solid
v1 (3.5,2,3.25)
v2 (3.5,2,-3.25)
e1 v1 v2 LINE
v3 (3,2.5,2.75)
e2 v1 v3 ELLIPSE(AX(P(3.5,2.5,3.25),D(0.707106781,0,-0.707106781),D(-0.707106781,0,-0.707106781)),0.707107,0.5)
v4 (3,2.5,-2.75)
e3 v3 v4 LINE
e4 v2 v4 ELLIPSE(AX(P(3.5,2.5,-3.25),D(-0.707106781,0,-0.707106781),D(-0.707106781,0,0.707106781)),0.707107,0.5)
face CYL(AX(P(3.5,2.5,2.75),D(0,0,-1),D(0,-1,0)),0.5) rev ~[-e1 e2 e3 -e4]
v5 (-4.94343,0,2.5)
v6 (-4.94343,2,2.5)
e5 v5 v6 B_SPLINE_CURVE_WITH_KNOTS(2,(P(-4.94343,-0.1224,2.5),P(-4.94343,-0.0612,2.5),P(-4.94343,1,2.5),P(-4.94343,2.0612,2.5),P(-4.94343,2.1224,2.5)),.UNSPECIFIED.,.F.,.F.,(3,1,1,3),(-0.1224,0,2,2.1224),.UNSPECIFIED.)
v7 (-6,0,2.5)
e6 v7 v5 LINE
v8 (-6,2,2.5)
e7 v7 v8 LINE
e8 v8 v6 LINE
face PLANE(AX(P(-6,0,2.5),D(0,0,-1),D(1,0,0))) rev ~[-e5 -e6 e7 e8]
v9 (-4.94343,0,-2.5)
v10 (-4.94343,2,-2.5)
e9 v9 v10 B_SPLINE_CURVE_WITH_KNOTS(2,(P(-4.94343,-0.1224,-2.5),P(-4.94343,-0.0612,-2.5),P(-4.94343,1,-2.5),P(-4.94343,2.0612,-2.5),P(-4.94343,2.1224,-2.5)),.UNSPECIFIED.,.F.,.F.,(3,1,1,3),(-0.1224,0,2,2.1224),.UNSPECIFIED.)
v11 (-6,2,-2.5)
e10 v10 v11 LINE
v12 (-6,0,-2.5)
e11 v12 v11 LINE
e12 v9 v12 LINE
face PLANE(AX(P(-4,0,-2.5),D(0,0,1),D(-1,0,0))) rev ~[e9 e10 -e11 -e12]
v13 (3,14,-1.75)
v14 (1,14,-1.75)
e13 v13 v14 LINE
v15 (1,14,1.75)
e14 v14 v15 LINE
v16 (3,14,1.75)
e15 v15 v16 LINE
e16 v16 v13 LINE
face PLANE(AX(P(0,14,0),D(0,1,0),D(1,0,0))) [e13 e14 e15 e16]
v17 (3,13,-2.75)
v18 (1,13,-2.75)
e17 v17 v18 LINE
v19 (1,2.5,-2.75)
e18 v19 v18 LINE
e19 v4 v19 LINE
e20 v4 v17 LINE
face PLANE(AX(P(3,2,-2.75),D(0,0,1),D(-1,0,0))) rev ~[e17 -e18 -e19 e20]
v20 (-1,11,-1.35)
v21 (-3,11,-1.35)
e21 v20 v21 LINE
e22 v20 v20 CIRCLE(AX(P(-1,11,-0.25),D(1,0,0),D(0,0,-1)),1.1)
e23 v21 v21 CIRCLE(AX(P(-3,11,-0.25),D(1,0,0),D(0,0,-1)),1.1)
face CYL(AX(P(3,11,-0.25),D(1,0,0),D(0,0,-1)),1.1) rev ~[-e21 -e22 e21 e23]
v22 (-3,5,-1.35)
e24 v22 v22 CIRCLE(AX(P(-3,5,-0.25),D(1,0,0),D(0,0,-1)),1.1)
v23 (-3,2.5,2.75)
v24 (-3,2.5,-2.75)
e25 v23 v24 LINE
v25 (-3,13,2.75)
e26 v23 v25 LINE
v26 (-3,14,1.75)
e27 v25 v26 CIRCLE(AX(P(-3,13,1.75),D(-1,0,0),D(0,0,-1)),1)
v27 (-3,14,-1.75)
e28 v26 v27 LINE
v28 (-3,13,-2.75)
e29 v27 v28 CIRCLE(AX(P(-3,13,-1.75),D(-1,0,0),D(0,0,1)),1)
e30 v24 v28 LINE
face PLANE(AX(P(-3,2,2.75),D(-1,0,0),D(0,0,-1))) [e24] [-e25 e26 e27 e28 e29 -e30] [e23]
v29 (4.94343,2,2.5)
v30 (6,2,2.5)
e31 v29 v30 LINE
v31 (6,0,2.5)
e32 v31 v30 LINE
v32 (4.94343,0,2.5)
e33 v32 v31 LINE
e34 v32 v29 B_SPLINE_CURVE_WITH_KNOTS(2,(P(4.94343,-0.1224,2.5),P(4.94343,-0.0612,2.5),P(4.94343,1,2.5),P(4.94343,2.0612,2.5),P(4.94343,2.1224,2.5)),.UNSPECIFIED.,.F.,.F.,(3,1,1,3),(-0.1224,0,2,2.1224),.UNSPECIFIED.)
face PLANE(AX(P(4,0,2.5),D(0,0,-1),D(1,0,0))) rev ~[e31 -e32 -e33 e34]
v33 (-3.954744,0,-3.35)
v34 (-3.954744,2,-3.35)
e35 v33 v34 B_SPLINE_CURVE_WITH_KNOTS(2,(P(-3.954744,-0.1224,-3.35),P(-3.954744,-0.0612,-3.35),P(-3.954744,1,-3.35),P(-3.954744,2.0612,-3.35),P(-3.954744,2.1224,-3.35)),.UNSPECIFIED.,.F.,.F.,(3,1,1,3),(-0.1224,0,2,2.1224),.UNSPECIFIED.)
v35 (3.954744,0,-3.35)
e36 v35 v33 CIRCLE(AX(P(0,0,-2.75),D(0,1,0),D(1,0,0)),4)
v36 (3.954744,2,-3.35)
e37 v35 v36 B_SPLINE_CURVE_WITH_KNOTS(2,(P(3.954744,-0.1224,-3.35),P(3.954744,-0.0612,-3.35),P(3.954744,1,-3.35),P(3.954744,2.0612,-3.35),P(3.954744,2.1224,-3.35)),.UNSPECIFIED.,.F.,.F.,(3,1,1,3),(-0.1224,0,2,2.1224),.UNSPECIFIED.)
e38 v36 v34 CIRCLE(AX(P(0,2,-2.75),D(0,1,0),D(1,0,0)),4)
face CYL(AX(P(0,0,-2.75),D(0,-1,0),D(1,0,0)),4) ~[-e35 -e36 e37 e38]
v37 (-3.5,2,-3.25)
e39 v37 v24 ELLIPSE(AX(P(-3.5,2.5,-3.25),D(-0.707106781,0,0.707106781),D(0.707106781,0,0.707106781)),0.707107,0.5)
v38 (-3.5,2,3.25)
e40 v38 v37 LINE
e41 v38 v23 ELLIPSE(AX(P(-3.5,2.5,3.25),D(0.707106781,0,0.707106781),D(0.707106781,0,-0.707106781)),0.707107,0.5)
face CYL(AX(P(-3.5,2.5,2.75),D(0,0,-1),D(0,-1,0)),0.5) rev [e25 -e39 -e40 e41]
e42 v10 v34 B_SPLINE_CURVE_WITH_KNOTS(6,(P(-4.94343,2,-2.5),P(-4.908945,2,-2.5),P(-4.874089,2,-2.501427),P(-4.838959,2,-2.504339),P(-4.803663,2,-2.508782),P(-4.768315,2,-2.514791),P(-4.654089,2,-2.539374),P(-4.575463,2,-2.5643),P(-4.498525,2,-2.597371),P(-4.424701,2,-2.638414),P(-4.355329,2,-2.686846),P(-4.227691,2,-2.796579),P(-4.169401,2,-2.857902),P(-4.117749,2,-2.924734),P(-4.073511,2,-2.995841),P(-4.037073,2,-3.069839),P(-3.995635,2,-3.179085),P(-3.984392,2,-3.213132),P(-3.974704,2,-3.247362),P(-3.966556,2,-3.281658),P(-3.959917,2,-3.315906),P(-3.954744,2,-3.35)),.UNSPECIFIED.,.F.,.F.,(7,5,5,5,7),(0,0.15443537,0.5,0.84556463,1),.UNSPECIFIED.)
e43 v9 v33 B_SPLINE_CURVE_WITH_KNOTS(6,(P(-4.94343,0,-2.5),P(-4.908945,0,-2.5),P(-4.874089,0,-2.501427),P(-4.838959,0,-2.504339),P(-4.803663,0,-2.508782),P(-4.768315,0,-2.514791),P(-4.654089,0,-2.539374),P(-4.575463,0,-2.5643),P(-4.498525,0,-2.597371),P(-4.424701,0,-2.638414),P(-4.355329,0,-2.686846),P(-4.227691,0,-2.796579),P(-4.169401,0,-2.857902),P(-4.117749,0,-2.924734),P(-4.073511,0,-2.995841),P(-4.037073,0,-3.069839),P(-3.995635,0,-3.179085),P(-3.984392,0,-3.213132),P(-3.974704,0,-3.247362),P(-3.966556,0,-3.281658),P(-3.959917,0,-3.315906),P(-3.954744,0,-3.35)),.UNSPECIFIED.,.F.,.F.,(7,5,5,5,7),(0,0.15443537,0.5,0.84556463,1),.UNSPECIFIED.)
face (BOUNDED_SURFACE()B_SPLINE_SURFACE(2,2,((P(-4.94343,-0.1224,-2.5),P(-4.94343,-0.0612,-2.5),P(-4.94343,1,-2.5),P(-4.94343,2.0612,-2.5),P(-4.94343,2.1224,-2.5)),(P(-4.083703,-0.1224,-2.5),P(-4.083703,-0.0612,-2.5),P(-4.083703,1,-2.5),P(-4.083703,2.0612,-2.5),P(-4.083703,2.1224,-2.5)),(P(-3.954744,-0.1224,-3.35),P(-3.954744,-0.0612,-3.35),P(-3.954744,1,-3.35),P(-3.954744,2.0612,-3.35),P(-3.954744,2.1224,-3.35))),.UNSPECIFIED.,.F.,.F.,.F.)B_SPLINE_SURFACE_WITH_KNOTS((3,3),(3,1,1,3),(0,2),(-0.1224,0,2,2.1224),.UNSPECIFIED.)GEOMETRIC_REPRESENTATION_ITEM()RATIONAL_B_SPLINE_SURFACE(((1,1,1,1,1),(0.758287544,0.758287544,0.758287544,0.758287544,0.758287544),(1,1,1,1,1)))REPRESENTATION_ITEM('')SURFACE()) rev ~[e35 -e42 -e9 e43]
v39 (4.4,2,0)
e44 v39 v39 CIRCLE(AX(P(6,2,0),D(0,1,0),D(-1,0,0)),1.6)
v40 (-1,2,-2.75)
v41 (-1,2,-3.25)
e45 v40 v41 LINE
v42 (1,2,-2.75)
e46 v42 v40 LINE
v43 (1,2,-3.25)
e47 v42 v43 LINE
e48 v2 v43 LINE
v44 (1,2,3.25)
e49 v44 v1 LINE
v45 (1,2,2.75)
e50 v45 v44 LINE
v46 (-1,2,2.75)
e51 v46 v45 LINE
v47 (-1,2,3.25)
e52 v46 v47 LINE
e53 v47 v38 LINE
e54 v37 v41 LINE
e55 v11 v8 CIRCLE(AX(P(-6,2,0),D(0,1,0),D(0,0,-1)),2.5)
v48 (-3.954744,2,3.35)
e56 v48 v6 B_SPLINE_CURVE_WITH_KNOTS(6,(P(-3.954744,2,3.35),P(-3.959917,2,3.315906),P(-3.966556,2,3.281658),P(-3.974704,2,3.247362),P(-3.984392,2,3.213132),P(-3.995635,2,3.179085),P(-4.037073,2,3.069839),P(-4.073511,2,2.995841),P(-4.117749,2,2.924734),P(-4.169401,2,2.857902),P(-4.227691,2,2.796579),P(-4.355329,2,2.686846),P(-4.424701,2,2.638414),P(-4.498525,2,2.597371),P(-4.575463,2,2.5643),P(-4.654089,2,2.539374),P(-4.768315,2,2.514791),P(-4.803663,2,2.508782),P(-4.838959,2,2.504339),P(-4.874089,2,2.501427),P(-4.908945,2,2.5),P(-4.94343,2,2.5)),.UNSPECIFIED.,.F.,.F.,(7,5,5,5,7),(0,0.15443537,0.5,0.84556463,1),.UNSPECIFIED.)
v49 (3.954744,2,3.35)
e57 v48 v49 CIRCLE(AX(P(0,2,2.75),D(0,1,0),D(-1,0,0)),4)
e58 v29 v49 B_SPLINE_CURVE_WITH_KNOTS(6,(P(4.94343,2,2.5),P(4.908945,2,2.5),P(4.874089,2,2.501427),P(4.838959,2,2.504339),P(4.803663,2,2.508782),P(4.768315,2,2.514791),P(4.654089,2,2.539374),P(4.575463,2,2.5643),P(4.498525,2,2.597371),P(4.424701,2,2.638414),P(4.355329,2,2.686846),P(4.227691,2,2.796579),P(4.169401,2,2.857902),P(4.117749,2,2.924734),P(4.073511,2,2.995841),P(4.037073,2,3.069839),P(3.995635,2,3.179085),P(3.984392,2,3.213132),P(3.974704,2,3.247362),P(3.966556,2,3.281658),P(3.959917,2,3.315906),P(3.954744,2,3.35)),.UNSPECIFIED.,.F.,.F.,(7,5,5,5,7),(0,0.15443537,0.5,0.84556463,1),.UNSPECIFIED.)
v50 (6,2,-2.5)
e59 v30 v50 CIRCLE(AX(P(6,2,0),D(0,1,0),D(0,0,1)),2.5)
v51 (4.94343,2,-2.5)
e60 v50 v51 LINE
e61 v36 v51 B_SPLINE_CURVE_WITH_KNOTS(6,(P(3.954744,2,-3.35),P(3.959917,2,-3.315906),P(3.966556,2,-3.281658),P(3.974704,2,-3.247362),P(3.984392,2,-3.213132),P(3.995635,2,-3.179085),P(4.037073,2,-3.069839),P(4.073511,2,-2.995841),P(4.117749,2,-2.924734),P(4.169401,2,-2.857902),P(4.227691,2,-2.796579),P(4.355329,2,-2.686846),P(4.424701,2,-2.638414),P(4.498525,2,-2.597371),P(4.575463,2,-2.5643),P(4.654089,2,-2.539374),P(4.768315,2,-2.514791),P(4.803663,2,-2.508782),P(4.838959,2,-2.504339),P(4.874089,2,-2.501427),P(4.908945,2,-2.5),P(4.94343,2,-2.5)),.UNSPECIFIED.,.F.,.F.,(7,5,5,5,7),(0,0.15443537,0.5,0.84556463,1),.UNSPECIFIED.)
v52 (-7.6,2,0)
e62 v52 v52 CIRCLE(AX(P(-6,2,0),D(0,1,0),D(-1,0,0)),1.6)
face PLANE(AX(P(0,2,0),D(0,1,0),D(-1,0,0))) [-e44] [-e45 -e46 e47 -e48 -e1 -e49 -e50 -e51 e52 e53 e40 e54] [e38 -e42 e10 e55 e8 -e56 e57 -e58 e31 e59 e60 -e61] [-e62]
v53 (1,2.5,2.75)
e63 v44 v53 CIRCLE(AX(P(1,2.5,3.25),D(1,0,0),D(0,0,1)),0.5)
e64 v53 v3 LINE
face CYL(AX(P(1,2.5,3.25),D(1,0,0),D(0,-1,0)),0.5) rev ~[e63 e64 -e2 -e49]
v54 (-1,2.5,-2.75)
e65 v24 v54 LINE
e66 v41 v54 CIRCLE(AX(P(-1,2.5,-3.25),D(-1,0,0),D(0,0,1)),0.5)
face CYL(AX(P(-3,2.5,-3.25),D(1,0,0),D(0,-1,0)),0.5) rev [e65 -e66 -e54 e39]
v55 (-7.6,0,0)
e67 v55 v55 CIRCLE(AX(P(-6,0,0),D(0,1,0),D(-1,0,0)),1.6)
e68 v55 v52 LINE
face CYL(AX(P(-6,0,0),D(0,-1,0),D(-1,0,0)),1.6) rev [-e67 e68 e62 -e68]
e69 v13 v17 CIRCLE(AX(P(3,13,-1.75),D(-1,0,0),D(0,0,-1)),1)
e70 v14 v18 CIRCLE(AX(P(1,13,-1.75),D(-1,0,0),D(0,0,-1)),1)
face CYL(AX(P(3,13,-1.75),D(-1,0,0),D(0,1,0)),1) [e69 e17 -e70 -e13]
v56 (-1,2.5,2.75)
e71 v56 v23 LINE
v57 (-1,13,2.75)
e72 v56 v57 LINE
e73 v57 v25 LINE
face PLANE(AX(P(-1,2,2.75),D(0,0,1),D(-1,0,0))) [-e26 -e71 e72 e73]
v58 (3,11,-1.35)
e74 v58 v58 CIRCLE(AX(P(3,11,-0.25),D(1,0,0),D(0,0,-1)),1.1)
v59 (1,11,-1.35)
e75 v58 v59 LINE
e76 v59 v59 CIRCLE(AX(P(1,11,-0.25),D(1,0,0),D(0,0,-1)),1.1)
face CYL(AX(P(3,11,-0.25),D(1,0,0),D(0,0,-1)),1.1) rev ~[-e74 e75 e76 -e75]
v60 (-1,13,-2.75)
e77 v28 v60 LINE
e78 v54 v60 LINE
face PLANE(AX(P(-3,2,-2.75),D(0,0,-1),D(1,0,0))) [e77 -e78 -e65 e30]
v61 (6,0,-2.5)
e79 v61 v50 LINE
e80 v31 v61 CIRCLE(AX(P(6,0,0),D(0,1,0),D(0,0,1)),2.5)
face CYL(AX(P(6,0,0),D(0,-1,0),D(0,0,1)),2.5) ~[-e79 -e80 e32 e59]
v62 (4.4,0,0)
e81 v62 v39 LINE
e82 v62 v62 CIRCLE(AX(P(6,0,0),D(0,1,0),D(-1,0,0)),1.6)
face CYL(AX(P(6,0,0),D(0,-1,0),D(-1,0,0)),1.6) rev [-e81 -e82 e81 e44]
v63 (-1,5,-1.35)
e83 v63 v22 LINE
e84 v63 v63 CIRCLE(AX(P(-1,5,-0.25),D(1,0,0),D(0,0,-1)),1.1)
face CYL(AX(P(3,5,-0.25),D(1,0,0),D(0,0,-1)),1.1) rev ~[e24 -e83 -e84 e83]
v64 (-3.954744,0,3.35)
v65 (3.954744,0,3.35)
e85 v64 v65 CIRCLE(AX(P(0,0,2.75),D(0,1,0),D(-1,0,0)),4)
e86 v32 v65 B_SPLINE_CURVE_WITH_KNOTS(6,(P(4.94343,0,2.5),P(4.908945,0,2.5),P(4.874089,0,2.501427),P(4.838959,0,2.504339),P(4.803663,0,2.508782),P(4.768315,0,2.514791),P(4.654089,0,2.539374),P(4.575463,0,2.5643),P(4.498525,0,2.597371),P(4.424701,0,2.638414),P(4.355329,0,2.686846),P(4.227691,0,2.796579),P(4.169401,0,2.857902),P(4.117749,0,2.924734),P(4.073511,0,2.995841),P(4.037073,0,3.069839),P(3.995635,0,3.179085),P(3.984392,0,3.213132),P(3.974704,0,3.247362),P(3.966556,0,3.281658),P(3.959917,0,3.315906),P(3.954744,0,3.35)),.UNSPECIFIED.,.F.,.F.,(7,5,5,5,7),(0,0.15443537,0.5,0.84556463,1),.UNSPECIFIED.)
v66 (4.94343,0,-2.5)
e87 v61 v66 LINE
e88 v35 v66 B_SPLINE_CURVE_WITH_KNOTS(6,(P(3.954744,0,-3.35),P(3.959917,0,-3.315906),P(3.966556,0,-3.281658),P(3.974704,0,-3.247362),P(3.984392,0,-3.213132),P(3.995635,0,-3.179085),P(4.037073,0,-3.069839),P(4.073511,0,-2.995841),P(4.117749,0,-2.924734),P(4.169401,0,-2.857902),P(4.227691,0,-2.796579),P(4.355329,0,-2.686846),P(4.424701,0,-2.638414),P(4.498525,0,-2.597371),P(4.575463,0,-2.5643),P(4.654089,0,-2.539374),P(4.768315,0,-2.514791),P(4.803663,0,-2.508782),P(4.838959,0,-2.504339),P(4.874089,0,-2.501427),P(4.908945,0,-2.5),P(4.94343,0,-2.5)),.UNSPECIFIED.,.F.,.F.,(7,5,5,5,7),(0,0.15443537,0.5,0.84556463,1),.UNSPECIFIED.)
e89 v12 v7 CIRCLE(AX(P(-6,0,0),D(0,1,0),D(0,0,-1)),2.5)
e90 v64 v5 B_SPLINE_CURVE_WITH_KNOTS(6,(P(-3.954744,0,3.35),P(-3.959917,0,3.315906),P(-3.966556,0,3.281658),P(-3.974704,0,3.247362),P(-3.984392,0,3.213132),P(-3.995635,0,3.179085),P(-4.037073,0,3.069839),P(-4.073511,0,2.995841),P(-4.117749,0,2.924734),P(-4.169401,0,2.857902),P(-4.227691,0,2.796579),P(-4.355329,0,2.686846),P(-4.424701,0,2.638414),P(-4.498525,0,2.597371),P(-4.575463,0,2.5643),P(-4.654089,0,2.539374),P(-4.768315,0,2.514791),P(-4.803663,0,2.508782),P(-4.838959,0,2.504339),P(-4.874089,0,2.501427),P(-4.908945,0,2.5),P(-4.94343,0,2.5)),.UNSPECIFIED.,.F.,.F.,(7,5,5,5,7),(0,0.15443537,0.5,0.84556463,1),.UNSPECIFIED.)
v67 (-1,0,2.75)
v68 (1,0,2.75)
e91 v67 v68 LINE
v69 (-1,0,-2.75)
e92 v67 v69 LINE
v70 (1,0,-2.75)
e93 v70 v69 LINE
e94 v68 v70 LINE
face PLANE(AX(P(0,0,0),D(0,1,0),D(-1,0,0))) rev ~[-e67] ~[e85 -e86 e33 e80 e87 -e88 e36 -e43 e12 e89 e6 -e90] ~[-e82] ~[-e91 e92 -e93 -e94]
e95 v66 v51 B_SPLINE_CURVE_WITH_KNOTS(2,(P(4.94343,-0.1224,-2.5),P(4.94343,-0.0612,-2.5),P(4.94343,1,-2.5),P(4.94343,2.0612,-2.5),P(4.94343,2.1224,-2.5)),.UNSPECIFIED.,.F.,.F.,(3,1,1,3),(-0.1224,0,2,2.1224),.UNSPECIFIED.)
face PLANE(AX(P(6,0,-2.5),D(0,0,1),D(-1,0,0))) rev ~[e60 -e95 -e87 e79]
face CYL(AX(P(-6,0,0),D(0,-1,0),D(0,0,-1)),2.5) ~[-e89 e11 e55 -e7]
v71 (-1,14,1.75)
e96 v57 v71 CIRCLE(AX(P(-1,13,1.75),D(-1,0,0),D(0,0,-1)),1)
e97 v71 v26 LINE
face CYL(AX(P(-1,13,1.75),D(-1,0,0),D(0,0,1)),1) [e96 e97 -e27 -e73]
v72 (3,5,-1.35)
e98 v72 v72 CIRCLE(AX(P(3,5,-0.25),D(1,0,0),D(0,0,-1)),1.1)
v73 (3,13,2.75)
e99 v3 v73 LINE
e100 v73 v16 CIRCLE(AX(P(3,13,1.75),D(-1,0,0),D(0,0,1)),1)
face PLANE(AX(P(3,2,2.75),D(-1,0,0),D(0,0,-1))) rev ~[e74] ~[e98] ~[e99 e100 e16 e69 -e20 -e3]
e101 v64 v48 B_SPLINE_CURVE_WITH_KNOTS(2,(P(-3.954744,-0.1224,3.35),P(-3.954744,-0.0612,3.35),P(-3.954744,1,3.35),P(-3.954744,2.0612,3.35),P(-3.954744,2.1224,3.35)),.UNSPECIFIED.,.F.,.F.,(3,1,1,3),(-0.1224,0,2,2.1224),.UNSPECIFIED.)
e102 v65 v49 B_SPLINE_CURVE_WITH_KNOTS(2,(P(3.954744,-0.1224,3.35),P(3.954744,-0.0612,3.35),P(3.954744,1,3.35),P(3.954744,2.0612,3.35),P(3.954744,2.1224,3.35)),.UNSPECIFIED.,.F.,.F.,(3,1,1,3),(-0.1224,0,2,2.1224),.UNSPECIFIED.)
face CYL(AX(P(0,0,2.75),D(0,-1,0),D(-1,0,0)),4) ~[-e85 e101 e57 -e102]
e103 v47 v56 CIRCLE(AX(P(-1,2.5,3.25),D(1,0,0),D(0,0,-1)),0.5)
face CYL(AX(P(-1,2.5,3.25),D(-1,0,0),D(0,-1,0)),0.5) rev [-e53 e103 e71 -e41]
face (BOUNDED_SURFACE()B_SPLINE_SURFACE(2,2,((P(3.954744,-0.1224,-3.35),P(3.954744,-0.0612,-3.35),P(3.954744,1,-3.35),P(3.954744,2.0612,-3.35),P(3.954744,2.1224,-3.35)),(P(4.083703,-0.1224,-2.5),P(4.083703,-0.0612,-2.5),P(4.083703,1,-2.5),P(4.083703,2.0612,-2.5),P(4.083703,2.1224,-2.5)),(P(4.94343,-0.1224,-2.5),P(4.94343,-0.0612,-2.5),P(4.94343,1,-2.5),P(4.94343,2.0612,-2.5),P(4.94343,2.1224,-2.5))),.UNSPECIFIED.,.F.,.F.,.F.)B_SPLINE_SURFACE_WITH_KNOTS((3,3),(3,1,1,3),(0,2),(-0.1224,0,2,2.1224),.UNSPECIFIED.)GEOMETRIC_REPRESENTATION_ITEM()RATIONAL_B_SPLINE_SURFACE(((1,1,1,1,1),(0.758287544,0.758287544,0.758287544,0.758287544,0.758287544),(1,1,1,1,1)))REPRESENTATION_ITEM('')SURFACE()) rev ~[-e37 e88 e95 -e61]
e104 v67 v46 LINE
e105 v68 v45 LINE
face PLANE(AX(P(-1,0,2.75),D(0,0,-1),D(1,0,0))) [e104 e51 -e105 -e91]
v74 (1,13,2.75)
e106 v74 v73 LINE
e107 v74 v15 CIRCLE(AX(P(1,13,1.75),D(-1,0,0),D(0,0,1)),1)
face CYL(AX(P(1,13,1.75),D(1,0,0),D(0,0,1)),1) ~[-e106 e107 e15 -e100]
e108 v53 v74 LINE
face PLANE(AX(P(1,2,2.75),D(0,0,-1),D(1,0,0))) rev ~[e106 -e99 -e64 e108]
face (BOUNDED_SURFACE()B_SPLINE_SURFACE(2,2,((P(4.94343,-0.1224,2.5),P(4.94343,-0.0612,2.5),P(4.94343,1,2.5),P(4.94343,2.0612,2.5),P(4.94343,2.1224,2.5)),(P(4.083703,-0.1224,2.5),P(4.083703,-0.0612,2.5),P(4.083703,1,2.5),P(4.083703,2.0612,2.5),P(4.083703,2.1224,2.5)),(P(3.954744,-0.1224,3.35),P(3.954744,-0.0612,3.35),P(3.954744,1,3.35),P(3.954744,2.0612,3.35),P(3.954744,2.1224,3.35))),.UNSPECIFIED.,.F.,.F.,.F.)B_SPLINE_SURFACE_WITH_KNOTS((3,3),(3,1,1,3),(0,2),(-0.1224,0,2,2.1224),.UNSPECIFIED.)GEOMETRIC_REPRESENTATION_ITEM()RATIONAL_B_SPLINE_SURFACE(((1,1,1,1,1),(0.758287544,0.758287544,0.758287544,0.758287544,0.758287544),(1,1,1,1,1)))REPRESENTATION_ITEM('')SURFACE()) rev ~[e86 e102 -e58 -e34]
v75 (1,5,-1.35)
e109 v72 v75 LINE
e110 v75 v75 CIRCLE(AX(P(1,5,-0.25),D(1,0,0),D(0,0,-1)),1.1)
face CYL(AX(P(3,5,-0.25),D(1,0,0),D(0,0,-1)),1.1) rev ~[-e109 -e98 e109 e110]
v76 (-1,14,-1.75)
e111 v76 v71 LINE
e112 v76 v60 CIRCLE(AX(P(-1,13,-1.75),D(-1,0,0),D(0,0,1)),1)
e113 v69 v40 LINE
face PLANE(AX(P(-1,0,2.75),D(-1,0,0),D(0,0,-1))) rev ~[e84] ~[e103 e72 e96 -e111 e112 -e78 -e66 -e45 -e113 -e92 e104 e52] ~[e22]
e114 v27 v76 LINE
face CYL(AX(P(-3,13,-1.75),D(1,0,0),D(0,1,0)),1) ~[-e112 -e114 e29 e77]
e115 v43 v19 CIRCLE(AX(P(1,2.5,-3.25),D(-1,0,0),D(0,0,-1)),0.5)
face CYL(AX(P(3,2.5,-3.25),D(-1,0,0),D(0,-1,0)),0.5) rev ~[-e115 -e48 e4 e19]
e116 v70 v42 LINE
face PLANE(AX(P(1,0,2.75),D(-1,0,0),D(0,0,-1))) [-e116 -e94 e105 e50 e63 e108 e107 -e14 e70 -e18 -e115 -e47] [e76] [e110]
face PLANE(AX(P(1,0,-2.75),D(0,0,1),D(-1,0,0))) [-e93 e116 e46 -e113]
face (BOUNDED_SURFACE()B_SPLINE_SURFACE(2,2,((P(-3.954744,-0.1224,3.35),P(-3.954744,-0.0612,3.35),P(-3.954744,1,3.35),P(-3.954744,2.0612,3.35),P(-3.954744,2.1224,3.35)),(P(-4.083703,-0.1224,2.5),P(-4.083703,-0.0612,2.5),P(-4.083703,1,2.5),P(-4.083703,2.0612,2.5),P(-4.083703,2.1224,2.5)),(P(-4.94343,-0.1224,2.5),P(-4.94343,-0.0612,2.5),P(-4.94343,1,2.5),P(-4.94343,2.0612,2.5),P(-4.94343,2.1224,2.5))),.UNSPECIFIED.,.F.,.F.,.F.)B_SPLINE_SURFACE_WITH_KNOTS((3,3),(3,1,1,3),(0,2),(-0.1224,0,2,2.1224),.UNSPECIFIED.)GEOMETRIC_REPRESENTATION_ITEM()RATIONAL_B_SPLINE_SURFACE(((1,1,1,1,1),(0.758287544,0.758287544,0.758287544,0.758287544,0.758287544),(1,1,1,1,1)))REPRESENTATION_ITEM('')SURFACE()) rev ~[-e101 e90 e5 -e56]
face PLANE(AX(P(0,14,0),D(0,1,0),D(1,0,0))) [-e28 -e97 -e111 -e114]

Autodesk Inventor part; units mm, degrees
ref_plane "YZ Plane" through (0, 0, 0) normal (1, 0, 0) x (0, 1, 0)
ref_plane "XZ Plane" through (0, 0, 0) normal (0, 1, 0) x (-1, 0, 0)
ref_plane "XY Plane" through (0, 0, 0) normal (0, 0, 1) x (1, 0, 0)
sketch "Sketch1" plane through (0, 0, 0) normal (0, 1, 0) x (-1, 0, 0)
  circle A0 centre (6, 0) radius 1.6
  circle A1 centre (6, 0) radius 1.6
  circle A2 centre (-6, 0) radius 1.6
  circle A3 centre (-6, 0) radius 1.6
  line L0 (1, 2.75) -> (1, -2.75) construction
  line L1 (1, 2.75) -> (-1, 2.75)
  line L2 (-1, -2.75) -> (-1, 2.75) construction
  line L3 (-1, -2.75) -> (1, -2.75)
  line L4 (0, 2.75) -> (0, -2.75) construction
  line L5 (-1, -2.75) -> (-3, -2.75)
  line L6 (-3, -2.75) -> (-3, 2.75)
  line L7 (-3, 2.75) -> (-1, 2.75)
  line L8 (-1, 2.75) -> (-1, -2.75)
  line L9 (1, -2.75) -> (3, -2.75)
  line L10 (3, -2.75) -> (3, 2.75)
  line L11 (3, 2.75) -> (1, 2.75)
  line L12 (1, 2.75) -> (1, -2.75)
  line L13 (6, 0) -> (-6, 0) construction
  arc A4 (6, -2.5) -> (6, 2.5) centre (6, 0) ccw
  arc A5 (-6, 2.5) -> (-6, -2.5) centre (-6, 0) ccw
  line L14 (0, 2.75) -> (0, -2.75) construction
  arc A6 (4, 2.75) -> (-4, 2.75) centre (0, 2.75) ccw
  arc A7 (-4, -2.75) -> (4, -2.75) centre (0, -2.75) ccw
  line L15 (4, -2.75) -> (4, -2.5)
  line L16 (4, 2.5) -> (4, 2.75)
  line L17 (-4, 2.75) -> (-4, 2.5)
  line L18 (-4, -2.5) -> (-4, -2.75)
  line L19 (-6, -2.5) -> (-4, -2.5)
  line L20 (4, -2.5) -> (6, -2.5)
  line L21 (6, 2.5) -> (4, 2.5)
  line L22 (-4, 2.5) -> (-6, 2.5)
  point P0 (0, 0)
  point P1 (0, 0)
  point P2 (0, 0)
  point P3 (0, 0)
  point P4 (0, 0)
  point P5 (0, 0)
  dimension "d6" = 2
  dimension "d7" = 2
  dimension "d8" = 5
  dimension "d9" = 8
extrude "Extrusion1" add sketch "Sketch1" along normal blind 2 contours L11 L10 L9 L12 | L8 L5 L6 L7 | L20 L15 A7 L18 L19 A5 L22 L17 A6 L16 L21 A4
fillet "Fillet1" radius 1 4 edges at (4, 1, -2.5) (4, 1, 2.5) (-4, 1, -2.5) (-4, 1, 2.5)
sketch "Sketch3" plane through (0, 2, 0) normal (0, 1, 0) x (1, 0, 0)
  line L0 (1, -2.75) -> (-1, -2.75) projected
  line L1 (1, -2.75) -> (3, -2.75)
  line L2 (3, -2.75) -> (3, 2.75)
  line L3 (3, 2.75) -> (1, 2.75)
  line L4 (1, 2.75) -> (1, -2.75)
  line L5 (-1, -2.75) -> (-3, -2.75)
  line L6 (-3, -2.75) -> (-3, 2.75)
  line L7 (-3, 2.75) -> (-1, 2.75)
  line L8 (-1, 2.75) -> (-1, -2.75)
  point P0 (0, 0)
  dimension "d11" = 2
  dimension "d12" = 5.5
  dimension "d13" = 2
extrude "Extrusion2" add sketch "Sketch3" along normal blind 12
fillet "Fillet2" radius 0.5 6 edges at (2, 2, -2.75) (-2, 2, -2.75) (-3, 2, 0) (3, 2, 0) (2, 2, 2.75) (-2, 2, 2.75)
sketch "Sketch4" plane through (3, 14, 2.75) normal (1, 0, 0) x (0, 0, -1)
  line L0 (5.5, 0) -> (0.5, 0) construction
  line L1 (5.5, -12) -> (5.5, 0) construction
  line L2 (0.5, 0) -> (5.5, -12) construction
  line L3 (3, -6) -> (3, -9) construction
  line L4 (3, -6) -> (3.9934, -6) construction
  circle A0 centre (3, -9) radius 1.1
  circle A1 centre (3, -3) radius 1.1
  line L5 (0, 0) -> (5.5, 0) projected
  point P0 (2.75, -14)
  point P1 (52.5, -13.5)
  dimension "d17" = 3
  dimension "d18" = 2.2
extrude "Extrusion3" cut sketch "Sketch4" against normal blind 12
fillet "Fillet3" radius 1 4 edges at (2, 14, -2.75) (-2, 14, -2.75) (2, 14, 2.75) (-2, 14, 2.75)
properties part number "CarbonConnectorStabPCBConnector"
